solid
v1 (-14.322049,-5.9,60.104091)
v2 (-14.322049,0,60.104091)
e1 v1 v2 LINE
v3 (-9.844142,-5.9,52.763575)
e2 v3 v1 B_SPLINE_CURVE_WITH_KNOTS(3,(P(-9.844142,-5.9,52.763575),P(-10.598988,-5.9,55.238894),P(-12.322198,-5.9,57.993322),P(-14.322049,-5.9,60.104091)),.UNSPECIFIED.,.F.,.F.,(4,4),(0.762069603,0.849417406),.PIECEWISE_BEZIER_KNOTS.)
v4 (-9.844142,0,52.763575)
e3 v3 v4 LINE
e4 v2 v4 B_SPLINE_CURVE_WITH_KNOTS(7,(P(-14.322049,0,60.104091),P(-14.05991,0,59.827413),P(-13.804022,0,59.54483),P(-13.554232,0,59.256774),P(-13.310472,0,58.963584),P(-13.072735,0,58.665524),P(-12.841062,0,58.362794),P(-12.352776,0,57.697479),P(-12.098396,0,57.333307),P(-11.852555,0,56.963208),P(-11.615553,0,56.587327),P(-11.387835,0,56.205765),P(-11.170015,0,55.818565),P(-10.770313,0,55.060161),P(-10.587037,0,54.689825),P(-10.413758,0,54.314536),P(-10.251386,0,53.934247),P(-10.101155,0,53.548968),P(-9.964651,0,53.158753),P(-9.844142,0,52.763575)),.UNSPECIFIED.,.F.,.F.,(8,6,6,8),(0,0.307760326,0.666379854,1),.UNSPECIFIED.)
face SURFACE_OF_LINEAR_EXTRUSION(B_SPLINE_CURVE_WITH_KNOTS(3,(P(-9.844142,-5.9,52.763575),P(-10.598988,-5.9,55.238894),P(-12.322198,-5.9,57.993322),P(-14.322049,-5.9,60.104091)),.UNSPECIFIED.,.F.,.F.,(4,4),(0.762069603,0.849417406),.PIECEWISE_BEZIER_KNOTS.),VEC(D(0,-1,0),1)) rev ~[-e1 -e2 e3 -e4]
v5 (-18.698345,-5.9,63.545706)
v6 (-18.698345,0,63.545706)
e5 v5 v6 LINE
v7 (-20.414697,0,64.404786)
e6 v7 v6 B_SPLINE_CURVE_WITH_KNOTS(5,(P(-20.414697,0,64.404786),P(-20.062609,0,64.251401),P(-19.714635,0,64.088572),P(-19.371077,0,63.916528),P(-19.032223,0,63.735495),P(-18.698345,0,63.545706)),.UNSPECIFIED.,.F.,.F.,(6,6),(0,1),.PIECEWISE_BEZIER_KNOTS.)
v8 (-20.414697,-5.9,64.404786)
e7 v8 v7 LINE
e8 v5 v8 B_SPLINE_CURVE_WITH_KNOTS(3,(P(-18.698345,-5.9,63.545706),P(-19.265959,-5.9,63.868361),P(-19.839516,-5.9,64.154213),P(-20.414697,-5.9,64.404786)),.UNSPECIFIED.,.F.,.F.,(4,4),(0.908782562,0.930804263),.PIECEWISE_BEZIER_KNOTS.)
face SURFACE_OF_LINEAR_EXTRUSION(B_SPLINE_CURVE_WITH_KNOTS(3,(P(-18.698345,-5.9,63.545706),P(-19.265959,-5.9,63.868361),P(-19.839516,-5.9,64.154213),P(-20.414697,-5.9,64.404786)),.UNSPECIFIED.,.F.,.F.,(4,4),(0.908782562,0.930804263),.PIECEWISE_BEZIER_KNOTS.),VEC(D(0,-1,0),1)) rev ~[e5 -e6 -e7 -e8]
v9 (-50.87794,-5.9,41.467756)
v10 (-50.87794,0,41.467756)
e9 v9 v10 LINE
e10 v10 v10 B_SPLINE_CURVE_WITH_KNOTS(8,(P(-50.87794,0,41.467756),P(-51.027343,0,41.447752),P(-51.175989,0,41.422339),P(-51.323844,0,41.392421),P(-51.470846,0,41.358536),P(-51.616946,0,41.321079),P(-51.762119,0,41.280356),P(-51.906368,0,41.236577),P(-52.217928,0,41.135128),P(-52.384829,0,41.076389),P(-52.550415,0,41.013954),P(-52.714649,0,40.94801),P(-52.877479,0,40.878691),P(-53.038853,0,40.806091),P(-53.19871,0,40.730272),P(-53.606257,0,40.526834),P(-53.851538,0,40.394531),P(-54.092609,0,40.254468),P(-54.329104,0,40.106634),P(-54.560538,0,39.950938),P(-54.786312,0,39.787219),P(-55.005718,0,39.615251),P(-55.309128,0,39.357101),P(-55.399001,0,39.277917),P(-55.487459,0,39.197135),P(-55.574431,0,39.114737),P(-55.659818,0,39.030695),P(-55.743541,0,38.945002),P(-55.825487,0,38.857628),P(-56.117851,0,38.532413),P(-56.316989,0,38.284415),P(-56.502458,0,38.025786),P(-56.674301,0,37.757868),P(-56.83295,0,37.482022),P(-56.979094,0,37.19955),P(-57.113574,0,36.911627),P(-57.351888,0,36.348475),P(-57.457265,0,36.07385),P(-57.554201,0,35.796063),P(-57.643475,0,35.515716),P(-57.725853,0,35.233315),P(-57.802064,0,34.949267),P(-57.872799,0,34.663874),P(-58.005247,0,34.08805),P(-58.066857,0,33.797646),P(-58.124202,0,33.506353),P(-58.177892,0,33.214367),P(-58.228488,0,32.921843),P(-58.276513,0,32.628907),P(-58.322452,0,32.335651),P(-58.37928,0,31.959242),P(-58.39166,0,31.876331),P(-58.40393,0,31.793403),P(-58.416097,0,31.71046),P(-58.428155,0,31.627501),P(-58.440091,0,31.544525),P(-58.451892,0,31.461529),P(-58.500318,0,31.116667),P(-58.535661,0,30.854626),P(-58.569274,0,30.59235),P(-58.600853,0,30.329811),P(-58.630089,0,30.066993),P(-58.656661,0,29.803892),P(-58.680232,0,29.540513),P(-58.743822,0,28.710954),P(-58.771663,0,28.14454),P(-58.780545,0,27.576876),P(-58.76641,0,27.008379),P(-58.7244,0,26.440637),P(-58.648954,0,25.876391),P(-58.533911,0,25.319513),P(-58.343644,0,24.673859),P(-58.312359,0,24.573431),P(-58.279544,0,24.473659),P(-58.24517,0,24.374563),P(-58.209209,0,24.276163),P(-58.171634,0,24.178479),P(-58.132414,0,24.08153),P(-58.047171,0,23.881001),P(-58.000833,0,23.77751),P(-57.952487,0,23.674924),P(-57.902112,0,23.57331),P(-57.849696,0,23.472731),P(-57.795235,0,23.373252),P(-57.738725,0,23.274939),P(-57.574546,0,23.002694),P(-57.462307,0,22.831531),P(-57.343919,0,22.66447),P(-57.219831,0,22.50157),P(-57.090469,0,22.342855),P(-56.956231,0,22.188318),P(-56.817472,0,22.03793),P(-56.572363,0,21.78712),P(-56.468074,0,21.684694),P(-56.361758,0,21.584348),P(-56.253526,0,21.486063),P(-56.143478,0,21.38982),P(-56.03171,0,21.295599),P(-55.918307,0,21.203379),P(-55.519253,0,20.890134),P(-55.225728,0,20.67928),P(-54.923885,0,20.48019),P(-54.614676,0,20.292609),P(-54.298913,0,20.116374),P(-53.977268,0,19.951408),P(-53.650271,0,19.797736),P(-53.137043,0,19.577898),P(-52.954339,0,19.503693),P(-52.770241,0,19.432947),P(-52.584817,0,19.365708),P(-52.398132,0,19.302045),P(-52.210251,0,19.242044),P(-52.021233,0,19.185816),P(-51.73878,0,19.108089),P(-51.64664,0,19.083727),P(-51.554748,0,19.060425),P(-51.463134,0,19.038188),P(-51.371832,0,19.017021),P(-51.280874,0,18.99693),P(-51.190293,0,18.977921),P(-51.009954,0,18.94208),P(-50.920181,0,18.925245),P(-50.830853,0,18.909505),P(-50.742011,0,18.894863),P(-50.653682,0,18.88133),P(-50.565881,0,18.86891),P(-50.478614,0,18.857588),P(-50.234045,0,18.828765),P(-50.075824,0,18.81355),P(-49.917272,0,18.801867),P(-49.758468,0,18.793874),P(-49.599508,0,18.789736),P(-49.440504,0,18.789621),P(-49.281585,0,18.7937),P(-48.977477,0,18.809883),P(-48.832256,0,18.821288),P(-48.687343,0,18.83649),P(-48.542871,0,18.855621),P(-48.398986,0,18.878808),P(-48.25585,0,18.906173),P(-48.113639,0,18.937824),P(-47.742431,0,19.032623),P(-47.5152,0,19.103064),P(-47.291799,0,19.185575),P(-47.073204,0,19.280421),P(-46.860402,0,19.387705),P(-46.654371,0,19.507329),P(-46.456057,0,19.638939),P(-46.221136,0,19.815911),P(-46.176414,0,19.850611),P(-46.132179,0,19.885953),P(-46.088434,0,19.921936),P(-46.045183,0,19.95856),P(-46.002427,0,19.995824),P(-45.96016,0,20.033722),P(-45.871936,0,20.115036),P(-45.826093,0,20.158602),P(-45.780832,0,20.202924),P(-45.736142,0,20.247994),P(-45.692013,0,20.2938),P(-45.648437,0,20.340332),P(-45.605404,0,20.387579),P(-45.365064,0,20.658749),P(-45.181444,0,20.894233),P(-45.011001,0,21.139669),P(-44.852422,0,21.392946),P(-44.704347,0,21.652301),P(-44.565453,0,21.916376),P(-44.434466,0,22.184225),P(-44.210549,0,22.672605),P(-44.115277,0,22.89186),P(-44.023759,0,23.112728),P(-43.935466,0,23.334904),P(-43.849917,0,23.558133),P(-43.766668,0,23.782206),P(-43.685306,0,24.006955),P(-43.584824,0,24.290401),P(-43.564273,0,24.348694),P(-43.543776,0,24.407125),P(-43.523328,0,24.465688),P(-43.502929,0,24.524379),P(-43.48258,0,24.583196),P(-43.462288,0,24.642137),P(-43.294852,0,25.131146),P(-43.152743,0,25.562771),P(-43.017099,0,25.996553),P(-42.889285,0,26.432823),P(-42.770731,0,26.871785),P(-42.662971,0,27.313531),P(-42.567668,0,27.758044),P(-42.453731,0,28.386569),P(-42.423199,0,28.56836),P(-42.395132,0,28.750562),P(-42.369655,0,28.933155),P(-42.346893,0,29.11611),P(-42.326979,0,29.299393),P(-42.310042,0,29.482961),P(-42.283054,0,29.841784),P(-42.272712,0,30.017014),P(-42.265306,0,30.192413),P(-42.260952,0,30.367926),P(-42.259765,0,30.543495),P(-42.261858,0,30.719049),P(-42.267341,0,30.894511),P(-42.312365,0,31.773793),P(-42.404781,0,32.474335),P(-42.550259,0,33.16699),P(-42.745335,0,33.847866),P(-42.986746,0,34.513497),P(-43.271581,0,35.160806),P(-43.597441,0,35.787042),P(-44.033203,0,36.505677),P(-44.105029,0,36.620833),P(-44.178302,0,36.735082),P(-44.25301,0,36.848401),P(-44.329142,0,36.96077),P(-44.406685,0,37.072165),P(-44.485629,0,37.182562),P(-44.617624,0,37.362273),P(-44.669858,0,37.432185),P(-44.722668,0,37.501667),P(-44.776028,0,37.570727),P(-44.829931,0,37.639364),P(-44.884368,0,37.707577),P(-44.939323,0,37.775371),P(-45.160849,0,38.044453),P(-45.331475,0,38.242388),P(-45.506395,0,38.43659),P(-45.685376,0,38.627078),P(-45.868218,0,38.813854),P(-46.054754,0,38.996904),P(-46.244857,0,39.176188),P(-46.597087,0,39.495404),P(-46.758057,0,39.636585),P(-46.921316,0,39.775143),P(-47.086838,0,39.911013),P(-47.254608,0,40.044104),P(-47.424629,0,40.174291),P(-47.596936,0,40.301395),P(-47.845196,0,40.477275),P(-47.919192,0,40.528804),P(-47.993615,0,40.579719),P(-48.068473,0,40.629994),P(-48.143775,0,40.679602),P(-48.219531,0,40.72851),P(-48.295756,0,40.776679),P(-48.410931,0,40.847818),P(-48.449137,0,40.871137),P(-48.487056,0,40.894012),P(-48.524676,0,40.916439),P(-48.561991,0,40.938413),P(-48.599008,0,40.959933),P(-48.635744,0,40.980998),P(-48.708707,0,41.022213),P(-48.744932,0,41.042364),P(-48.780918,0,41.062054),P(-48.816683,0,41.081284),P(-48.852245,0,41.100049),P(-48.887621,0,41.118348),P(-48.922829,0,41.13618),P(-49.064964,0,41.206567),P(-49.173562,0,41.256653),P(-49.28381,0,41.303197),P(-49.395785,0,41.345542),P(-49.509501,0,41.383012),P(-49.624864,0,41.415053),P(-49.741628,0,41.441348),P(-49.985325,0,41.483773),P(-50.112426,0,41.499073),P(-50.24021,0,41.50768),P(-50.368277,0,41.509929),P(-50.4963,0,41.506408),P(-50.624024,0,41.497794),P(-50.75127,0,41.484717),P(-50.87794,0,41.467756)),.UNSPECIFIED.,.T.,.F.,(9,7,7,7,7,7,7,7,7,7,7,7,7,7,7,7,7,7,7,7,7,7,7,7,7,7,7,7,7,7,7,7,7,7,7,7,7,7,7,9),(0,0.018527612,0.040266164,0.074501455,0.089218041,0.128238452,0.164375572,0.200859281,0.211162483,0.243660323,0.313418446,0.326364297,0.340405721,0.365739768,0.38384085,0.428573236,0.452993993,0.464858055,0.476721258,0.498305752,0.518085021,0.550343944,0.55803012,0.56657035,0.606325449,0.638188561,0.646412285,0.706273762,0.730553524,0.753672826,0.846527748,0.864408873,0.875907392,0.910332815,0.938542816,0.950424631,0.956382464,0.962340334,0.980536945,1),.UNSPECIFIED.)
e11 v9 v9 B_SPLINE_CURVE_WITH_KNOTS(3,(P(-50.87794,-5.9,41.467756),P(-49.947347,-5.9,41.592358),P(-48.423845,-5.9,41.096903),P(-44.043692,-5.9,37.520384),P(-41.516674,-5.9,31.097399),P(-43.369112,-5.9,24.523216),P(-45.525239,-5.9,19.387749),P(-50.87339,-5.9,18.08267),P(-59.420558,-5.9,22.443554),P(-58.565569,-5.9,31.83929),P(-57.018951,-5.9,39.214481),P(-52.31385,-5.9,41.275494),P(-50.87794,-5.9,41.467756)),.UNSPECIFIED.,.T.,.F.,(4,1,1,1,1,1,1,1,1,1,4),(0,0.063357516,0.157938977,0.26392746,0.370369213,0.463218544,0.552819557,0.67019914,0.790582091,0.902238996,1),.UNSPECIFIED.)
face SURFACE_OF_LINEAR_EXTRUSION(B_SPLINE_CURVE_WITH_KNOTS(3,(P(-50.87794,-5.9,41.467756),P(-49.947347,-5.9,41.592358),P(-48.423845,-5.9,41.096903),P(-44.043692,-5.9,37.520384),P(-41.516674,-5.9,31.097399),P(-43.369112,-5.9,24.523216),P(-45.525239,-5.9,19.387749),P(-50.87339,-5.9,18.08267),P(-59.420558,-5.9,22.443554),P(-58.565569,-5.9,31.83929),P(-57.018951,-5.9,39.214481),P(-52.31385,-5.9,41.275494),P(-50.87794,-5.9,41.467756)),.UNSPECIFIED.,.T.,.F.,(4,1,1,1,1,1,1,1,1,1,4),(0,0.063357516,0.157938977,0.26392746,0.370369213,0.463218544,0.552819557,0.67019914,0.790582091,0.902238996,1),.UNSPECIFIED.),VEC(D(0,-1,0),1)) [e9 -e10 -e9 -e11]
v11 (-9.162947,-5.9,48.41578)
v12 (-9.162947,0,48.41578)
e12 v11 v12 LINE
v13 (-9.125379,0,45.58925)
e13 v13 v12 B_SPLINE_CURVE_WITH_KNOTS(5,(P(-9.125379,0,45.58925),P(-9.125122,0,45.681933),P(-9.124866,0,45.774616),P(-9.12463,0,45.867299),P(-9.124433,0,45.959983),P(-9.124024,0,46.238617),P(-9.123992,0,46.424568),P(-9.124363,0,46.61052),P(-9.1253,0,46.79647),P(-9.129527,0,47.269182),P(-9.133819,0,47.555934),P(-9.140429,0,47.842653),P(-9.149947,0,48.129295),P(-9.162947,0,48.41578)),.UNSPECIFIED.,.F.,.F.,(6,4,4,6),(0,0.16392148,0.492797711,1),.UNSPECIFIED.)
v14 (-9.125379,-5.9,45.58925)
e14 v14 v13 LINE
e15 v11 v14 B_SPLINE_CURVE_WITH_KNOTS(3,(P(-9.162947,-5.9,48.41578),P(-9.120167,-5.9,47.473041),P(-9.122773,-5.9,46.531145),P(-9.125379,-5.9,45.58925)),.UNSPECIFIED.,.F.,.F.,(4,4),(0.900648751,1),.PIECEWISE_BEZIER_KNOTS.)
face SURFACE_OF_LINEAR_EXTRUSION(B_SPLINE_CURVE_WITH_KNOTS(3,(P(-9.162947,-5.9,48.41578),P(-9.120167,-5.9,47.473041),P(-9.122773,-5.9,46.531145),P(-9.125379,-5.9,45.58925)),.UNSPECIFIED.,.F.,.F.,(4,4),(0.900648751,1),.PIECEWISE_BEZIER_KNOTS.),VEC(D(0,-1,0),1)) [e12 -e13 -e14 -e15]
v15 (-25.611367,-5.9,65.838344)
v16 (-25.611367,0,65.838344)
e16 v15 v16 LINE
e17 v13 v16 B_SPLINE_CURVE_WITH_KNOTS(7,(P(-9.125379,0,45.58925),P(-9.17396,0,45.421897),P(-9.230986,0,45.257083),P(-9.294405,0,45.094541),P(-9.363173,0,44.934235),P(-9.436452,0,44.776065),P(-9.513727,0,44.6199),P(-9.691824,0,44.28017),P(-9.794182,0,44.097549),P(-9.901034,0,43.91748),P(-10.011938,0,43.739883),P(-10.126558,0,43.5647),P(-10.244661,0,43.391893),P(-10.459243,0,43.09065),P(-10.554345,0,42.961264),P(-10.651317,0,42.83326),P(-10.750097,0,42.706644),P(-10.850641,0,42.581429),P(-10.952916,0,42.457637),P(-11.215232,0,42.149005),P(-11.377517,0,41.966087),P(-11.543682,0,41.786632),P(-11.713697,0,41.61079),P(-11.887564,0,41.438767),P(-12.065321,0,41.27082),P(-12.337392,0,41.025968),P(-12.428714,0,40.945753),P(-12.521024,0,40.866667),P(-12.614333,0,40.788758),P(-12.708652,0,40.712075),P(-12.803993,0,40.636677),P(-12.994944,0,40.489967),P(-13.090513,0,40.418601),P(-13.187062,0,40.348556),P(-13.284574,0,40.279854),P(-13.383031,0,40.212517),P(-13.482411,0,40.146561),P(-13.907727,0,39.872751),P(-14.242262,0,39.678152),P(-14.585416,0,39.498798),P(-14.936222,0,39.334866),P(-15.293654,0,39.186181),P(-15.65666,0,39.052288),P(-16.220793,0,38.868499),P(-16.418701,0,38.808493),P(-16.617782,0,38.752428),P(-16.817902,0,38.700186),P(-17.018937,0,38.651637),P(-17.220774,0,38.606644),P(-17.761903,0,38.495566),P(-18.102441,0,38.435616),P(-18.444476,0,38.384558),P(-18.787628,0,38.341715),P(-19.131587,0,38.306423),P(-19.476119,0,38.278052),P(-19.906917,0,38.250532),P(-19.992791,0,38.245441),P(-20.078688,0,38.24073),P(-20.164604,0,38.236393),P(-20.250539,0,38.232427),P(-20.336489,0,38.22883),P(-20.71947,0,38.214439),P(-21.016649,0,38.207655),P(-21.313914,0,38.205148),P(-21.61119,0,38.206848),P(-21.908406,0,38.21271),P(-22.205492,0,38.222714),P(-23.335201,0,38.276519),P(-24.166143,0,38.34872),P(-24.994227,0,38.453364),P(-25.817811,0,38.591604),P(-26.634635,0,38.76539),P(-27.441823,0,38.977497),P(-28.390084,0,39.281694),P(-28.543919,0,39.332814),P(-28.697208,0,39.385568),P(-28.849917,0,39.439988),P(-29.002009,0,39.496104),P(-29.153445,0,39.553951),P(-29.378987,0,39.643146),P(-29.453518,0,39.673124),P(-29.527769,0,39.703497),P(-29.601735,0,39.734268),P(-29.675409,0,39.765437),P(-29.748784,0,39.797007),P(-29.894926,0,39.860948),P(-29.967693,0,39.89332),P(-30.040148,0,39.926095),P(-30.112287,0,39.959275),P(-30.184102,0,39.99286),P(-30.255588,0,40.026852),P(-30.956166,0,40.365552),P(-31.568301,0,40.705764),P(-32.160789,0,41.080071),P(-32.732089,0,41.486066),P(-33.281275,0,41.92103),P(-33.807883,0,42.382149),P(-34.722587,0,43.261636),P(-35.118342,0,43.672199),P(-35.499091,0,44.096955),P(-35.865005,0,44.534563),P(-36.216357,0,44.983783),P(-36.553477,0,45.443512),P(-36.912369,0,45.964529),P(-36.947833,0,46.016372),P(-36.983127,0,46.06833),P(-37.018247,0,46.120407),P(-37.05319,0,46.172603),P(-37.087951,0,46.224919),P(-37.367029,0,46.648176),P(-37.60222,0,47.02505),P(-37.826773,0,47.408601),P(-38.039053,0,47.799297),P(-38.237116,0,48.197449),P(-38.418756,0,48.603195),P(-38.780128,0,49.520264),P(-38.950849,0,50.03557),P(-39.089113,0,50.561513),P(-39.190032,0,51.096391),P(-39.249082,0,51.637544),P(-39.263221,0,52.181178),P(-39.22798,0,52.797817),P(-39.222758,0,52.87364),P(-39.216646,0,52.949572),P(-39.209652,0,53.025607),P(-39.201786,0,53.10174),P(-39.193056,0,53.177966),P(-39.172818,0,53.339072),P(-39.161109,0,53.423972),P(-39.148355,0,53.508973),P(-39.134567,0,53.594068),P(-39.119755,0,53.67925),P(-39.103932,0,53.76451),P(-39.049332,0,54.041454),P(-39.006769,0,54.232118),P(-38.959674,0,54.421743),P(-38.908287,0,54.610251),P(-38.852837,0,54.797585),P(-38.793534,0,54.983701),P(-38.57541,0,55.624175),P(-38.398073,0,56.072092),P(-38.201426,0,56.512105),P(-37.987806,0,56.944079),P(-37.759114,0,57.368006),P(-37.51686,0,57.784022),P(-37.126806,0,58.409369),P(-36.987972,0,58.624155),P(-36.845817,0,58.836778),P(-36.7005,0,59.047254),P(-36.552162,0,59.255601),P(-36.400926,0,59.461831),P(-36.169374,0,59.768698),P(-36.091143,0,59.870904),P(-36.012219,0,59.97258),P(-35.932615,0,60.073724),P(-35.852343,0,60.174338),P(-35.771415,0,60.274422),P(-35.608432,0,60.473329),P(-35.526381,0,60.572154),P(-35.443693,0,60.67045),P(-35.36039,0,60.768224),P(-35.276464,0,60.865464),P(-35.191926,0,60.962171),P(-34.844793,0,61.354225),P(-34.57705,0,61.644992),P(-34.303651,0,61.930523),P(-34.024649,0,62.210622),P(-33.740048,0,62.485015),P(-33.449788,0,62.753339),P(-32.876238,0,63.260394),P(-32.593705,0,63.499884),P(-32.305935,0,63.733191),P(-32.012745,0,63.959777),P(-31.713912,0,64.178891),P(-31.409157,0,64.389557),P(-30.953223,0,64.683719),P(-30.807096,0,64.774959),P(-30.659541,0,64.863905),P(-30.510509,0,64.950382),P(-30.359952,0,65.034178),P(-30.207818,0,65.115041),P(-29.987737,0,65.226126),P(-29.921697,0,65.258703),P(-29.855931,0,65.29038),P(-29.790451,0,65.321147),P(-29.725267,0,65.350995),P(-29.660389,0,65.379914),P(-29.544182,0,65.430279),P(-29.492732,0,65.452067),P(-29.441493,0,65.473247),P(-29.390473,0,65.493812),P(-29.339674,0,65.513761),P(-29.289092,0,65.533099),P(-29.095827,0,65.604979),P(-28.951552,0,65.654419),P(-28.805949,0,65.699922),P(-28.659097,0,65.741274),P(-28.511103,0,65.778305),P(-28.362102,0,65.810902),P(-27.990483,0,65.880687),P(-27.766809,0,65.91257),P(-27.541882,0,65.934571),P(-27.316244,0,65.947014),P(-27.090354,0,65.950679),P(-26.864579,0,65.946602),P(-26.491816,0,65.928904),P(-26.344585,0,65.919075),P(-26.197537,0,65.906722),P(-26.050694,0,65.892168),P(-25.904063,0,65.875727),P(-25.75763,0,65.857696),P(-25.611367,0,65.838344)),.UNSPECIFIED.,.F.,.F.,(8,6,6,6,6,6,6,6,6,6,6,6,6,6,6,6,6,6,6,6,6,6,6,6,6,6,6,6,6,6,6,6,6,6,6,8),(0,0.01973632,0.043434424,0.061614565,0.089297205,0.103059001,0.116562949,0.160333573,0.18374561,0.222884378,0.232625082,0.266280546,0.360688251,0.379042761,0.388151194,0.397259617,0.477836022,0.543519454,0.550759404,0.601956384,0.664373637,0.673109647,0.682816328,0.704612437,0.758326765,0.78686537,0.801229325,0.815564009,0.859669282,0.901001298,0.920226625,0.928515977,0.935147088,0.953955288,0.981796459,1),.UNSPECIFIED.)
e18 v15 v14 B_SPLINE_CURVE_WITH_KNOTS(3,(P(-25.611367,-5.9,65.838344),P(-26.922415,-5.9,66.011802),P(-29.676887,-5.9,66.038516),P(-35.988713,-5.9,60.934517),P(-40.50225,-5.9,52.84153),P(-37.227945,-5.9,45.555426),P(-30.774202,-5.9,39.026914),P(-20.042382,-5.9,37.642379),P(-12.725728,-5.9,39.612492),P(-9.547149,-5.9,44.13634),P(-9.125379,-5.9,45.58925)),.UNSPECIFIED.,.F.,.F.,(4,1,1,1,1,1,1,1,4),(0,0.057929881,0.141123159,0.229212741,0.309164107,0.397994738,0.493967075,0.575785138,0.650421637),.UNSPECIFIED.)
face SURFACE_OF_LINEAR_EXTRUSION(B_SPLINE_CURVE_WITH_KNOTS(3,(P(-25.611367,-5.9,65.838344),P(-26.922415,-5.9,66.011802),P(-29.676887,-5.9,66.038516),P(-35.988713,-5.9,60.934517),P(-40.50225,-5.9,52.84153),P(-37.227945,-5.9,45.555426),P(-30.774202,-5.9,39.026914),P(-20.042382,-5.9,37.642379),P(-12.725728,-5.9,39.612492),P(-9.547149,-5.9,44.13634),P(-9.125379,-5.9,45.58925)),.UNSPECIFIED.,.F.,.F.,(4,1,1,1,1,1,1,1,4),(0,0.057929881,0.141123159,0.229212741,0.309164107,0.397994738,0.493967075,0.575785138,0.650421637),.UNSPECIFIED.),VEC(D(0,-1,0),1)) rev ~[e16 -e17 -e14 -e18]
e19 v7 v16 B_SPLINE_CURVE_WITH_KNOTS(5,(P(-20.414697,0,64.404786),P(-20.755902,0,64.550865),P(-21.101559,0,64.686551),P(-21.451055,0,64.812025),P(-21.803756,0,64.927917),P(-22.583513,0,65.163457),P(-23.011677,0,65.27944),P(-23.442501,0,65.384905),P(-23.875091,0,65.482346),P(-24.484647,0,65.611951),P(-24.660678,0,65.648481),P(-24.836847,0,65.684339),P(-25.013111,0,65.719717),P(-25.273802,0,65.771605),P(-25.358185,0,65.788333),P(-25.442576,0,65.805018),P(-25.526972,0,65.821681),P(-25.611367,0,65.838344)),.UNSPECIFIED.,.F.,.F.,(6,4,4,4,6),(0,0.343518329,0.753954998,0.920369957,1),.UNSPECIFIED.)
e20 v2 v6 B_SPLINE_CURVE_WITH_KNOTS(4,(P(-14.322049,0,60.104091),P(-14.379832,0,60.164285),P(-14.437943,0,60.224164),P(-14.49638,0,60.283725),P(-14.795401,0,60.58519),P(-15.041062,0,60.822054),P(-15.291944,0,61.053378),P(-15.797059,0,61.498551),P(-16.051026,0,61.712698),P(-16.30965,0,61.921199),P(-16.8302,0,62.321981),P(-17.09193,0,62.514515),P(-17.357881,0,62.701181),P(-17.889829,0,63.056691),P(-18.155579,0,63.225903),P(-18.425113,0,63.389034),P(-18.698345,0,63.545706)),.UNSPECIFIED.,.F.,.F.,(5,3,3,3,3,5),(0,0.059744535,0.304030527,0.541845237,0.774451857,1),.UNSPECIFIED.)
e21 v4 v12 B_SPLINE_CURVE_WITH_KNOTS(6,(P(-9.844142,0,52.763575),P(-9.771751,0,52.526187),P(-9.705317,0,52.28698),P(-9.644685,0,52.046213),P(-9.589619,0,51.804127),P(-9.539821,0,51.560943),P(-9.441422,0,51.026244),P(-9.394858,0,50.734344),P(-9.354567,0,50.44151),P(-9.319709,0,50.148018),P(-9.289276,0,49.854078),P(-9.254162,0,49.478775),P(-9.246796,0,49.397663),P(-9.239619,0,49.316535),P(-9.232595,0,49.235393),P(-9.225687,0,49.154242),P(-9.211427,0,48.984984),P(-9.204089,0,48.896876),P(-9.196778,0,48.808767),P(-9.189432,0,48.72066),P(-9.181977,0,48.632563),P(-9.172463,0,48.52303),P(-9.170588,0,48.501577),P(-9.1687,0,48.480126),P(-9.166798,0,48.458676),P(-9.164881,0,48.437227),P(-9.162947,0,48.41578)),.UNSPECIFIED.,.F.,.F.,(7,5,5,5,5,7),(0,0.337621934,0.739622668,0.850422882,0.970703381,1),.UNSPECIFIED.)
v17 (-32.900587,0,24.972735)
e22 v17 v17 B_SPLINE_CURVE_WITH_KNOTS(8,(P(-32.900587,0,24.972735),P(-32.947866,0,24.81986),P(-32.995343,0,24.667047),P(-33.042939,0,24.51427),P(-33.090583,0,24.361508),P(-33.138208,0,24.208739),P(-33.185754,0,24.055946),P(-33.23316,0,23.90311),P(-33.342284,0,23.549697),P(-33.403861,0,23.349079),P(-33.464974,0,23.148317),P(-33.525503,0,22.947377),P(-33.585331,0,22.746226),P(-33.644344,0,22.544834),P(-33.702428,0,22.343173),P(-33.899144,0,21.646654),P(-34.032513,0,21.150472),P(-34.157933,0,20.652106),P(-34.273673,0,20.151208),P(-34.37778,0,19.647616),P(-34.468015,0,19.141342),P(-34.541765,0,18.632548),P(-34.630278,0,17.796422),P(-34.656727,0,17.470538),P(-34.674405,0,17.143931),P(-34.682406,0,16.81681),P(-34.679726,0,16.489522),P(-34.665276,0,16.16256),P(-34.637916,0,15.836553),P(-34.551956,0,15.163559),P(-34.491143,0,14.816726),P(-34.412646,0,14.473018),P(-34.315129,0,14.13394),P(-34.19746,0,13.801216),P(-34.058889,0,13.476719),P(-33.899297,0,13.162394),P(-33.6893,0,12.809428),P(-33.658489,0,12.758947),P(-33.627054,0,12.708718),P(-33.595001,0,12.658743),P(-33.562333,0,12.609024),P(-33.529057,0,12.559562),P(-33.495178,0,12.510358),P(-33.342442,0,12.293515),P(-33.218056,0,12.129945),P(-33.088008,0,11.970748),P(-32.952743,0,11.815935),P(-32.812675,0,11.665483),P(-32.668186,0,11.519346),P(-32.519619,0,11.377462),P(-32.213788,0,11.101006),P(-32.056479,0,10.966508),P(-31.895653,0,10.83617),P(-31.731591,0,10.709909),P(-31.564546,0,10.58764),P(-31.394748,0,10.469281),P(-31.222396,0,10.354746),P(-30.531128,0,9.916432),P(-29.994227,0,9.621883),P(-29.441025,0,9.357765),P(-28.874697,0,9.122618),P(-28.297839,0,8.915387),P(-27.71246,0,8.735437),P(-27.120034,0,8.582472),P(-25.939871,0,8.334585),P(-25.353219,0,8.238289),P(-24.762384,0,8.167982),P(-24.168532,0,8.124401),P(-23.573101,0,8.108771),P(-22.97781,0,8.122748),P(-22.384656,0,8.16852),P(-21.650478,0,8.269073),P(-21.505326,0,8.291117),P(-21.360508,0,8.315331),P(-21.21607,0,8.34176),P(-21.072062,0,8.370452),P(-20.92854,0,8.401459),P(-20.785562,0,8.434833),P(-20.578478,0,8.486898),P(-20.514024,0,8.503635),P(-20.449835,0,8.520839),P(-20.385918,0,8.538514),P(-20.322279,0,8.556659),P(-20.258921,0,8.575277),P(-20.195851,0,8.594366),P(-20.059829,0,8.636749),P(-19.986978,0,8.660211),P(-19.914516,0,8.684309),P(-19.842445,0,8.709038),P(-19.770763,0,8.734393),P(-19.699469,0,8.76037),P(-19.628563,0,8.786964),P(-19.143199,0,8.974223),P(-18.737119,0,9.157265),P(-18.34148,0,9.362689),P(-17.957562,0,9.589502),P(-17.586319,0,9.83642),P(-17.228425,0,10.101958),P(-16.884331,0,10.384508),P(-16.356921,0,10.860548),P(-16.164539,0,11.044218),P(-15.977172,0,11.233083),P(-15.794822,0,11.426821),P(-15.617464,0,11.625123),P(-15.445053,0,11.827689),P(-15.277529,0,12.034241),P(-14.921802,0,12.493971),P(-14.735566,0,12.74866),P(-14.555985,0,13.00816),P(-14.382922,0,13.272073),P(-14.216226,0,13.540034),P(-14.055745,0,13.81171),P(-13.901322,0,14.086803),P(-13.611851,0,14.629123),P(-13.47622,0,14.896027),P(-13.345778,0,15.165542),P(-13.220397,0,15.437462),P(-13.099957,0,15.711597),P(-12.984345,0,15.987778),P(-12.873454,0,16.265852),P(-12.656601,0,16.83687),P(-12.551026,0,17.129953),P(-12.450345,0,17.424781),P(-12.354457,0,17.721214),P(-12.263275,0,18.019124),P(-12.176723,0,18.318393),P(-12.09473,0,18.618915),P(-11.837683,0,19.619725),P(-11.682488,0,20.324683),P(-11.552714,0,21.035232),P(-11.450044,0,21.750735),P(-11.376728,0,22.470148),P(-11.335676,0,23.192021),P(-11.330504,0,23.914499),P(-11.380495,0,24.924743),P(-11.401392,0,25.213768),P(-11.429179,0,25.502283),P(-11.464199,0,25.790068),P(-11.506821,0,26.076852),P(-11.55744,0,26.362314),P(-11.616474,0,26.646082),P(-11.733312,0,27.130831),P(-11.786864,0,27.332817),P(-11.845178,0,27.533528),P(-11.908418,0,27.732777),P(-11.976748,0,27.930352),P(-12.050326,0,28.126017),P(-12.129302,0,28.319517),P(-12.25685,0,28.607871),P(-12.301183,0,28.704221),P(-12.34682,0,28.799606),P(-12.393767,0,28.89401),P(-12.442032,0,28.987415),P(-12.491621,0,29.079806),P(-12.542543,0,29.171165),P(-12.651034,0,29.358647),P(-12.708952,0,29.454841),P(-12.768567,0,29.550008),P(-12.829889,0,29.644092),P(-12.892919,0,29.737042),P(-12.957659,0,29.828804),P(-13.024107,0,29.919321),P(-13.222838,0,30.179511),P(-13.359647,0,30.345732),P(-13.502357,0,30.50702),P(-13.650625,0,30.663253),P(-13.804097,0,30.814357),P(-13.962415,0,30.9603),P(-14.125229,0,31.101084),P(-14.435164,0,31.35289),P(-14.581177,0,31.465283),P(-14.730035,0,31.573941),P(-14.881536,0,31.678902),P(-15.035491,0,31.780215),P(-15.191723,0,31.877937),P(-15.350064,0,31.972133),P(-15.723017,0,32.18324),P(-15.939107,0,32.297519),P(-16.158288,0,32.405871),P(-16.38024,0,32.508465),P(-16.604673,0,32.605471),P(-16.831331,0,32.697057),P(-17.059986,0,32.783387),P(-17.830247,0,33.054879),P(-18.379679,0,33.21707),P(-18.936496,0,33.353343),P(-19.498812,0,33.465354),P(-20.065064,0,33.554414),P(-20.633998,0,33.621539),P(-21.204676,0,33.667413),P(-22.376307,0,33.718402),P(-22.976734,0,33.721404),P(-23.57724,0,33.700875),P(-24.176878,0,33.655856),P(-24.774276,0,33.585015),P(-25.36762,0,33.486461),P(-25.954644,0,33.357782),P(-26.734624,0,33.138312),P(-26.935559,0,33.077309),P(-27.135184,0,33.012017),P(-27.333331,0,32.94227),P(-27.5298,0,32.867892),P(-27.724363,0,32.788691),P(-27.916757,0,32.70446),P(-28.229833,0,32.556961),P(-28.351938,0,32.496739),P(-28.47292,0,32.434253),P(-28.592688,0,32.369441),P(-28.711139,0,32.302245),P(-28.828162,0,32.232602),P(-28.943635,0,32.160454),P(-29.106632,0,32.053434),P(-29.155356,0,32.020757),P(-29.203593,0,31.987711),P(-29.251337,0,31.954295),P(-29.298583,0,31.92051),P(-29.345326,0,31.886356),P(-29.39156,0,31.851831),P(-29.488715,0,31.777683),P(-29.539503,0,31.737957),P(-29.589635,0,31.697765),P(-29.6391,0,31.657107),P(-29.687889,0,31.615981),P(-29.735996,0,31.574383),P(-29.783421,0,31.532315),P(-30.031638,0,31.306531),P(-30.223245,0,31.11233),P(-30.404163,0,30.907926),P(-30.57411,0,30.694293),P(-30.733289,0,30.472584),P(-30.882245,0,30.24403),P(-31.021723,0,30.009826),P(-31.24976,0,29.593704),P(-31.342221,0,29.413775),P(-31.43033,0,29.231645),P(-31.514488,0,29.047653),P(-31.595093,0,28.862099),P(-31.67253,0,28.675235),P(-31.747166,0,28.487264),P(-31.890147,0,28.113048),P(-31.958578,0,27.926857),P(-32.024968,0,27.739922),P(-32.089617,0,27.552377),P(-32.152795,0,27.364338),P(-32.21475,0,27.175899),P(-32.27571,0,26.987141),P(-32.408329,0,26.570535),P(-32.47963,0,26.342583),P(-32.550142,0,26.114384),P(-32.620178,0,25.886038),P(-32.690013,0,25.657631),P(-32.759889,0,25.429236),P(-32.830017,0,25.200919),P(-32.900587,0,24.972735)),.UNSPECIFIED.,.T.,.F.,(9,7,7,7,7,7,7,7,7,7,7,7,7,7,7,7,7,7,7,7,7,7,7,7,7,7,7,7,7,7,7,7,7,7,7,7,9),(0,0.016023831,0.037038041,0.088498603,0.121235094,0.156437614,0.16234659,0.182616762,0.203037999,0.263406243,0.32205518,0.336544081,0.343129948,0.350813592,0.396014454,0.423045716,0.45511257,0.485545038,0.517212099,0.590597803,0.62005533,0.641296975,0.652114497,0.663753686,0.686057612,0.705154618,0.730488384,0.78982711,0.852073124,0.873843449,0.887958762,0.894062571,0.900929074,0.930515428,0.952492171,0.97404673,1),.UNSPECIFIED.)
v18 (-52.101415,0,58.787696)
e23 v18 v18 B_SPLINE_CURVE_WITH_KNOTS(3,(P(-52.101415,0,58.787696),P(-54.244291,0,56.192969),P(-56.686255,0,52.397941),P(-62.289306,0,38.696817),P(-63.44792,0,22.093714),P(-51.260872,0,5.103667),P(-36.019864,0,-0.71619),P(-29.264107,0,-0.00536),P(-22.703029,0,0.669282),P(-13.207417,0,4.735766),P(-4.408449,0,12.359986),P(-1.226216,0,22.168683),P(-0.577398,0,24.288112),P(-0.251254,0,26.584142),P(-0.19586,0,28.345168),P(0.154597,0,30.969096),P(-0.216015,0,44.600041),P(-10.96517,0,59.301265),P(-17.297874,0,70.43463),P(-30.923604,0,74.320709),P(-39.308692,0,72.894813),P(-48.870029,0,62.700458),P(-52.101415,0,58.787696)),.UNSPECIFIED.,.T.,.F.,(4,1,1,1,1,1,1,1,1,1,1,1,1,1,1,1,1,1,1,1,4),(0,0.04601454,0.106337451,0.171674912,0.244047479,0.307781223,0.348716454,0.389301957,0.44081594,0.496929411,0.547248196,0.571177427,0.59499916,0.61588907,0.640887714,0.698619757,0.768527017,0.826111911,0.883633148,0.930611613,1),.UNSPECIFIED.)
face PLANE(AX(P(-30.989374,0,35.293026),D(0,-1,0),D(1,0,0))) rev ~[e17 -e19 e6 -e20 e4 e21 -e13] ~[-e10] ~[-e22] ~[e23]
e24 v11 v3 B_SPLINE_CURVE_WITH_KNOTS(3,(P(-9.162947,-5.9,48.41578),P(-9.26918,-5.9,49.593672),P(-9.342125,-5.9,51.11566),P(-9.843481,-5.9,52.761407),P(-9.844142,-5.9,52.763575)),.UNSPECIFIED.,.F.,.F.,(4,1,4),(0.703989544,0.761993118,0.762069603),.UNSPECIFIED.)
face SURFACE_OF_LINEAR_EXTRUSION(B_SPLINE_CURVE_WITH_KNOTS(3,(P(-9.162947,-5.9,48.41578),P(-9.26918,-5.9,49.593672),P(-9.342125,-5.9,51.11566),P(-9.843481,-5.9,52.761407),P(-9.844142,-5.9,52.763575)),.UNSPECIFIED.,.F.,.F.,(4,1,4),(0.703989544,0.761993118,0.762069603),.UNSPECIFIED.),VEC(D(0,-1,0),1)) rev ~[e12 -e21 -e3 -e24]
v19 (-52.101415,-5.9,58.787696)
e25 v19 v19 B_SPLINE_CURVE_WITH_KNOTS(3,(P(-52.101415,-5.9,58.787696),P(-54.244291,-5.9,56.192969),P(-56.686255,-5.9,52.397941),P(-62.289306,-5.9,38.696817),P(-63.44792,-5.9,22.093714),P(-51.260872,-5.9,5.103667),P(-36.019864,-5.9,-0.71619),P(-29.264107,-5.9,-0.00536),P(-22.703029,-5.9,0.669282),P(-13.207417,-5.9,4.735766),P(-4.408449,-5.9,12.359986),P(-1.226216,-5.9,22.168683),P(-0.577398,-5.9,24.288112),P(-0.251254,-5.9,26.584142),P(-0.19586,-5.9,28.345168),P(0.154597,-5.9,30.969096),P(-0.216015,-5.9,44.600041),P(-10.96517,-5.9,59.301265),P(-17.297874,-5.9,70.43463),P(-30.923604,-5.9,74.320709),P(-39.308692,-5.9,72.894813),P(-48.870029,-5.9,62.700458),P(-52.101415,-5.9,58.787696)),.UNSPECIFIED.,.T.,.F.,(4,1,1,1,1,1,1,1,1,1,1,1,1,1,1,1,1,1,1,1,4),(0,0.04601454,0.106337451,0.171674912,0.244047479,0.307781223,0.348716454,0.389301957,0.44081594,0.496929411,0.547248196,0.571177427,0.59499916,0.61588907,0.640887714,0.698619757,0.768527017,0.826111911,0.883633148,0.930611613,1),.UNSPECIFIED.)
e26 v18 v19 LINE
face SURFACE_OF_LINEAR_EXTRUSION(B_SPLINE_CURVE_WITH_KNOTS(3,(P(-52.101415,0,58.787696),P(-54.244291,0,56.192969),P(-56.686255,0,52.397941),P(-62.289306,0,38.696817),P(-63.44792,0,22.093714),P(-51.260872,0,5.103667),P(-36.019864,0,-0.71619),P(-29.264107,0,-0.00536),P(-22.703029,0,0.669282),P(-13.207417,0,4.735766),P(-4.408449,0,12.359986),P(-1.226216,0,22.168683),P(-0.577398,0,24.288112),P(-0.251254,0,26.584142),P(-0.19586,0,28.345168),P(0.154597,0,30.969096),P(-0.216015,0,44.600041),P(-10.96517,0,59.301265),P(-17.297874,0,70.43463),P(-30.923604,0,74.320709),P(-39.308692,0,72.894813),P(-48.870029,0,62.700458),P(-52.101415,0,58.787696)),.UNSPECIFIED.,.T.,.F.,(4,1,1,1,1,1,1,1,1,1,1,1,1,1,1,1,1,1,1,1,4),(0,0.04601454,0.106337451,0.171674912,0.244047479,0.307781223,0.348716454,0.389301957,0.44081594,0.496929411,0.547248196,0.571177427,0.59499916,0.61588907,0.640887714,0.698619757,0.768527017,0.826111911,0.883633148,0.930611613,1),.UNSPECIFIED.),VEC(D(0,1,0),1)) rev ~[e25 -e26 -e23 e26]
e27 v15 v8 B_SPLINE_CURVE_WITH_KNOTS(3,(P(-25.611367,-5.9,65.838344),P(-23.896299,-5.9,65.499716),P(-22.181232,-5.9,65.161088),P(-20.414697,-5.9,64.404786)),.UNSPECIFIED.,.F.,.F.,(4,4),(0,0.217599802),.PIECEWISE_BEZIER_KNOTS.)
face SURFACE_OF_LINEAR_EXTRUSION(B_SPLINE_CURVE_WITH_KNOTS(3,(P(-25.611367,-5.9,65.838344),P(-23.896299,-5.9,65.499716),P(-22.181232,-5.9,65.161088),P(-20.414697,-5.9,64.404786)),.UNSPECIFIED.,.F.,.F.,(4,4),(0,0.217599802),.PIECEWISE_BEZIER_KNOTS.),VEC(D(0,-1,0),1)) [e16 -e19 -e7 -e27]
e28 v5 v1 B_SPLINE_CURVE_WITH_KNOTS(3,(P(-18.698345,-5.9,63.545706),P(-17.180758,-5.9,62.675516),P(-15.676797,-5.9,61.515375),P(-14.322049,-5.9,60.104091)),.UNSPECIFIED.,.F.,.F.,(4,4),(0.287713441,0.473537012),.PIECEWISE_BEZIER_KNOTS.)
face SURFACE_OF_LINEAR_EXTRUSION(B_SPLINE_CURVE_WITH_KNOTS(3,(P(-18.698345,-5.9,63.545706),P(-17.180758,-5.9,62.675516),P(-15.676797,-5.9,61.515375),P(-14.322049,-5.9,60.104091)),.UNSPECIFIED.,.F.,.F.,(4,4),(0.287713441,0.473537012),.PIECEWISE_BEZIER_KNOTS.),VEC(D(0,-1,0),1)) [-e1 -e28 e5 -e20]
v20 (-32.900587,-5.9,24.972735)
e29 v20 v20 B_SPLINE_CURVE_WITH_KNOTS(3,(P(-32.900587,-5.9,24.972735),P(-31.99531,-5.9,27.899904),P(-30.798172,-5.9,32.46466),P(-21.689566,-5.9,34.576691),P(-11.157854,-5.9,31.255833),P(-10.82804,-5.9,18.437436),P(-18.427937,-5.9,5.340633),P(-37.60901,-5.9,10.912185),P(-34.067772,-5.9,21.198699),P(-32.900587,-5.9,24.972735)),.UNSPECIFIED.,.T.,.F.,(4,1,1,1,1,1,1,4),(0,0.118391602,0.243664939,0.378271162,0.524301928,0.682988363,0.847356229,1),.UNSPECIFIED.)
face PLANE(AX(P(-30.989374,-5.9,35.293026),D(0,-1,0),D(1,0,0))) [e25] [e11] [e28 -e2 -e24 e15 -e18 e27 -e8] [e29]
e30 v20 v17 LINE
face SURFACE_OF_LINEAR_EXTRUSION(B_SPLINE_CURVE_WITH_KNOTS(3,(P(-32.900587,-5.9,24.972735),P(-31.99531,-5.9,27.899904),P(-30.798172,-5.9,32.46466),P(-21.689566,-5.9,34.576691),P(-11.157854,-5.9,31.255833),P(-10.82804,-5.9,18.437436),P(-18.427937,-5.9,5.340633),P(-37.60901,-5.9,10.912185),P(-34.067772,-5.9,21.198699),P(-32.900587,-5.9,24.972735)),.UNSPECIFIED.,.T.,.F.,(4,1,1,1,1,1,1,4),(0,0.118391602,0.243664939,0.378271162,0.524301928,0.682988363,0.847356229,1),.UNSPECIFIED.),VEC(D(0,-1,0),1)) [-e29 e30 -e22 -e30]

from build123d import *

# Parameters (mm, degrees)
F1_DEPTH = 5.9
F3_DEPTH = 25
F5_DEPTH = 25
F7_DEPTH = 25


with BuildPart() as f1:
    # F0 (on Front) → F1 (new body)
    with BuildSketch(Plane.XZ):
        with BuildLine():
            add(Edge.make_bspline(
                [(-52.1014146507, 58.7876960635), (-54.2442908005, 56.1929689953), (-56.6862554596, 52.3979406272), (-62.2893055473, 38.6968171199), (-63.447920292, 22.0937139273), (-51.2608724238, 5.1036667476), (-36.0198643591, -0.7161903744), (-29.2641067986, -0.0053596476), (-22.70302903, 0.669282382), (-13.2074172071, 4.7357655846), (-4.408449157, 12.359986036), (-1.2262155166, 22.1686827448), (-0.5773984772, 24.2881119646), (-0.2512541332, 26.5841420302), (-0.1958595852, 28.3451681559), (0.1545968332, 30.9690962846), (-0.2160147101, 44.6000414993), (-10.9651699558, 59.301264633), (-17.2978744539, 70.4346300063), (-30.9236037174, 74.3207093361), (-39.3086922898, 72.894812691), (-48.8700291359, 62.7004576406), (-52.1014146507, 58.7876960635)],
                knots=[0, 0, 0, 0, 0.0460145405, 0.106337451, 0.171674912, 0.2440474788, 0.3077812225, 0.3487164541, 0.3893019572, 0.4408159402, 0.4969294108, 0.5472481961, 0.5711774271, 0.5949991596, 0.6158890698, 0.6408877142, 0.698619757, 0.7685270172, 0.8261119106, 0.8836331476, 0.930611613, 1, 1, 1, 1], degree=3))
        make_face()
    extrude(amount=F1_DEPTH)

    # F2 (on face) → F3 (cut)
    with BuildSketch(Plane.XZ.offset(5.9)):
        with BuildLine():
            add(Edge.make_bspline(
                [(-25.6113670766, 65.8383443952), (-23.8962992967, 65.499716372), (-22.1812315167, 65.1610883488), (-20.4146970063, 64.4047856331)],
                knots=[0, 0, 0, 0, 0.2175998022, 0.2175998022, 0.2175998022, 0.2175998022], degree=3))
            add(Edge.make_bspline(
                [(-25.6113670766, 65.8383443952), (-26.9224153467, 66.0118016365), (-29.6768867649, 66.0385156694), (-35.9887130292, 60.934516911), (-40.5022501865, 52.8415296036), (-37.2279445486, 45.5554263024), (-30.7742024254, 39.026913525), (-20.0423820615, 37.642378954), (-12.7257275827, 39.6124917323), (-9.5471492047, 44.1363396608), (-9.1253789142, 45.5892495811)],
                knots=[0, 0, 0, 0, 0.0579298808, 0.1411231585, 0.2292127407, 0.3091641069, 0.3979947379, 0.4939670747, 0.5757851375, 0.6504216373, 0.6504216373, 0.6504216373, 0.6504216373], degree=3))
            add(Edge.make_bspline(
                [(-9.162946625, 48.4157798694), (-9.1201670876, 47.4730411283), (-9.1227730009, 46.5311453547), (-9.1253789142, 45.5892495811)],
                knots=[0.9006487511, 0.9006487511, 0.9006487511, 0.9006487511, 1, 1, 1, 1], degree=3))
            add(Edge.make_bspline(
                [(-9.162946625, 48.4157798694), (-9.2691801205, 49.5936717728), (-9.3421253992, 51.1156596141), (-9.8434807995, 52.7614074954), (-9.8441417686, 52.7635749675)],
                knots=[0.7039895436, 0.7039895436, 0.7039895436, 0.7039895436, 0.7619931182, 0.7620696029, 0.7620696029, 0.7620696029, 0.7620696029], degree=3))
            add(Edge.make_bspline(
                [(-9.8441417686, 52.7635749675), (-10.598988464, 55.2388936708), (-12.322197814, 57.9933220152), (-14.3220489537, 60.104090688)],
                knots=[0.7620696029, 0.7620696029, 0.7620696029, 0.7620696029, 0.8494174062, 0.8494174062, 0.8494174062, 0.8494174062], degree=3))
            add(Edge.make_bspline(
                [(-18.6983452168, 63.5457059426), (-17.1807583986, 62.6755163534), (-15.6767974013, 61.5153749257), (-14.3220489845, 60.1040907204)],
                knots=[0.2877134414, 0.2877134414, 0.2877134414, 0.2877134414, 0.4735370117, 0.4735370117, 0.4735370117, 0.4735370117], degree=3))
            add(Edge.make_bspline(
                [(-18.6983452168, 63.5457059426), (-19.2659594379, 63.8683608033), (-19.8395161558, 64.1542125797), (-20.414696972, 64.4047856181)],
                knots=[0.908782562, 0.908782562, 0.908782562, 0.908782562, 0.9308042628, 0.9308042628, 0.9308042628, 0.9308042628], degree=3))
        make_face()
    extrude(amount=-F3_DEPTH, mode=Mode.SUBTRACT)

    # F4 (on face) → F5 (cut)
    with BuildSketch(Plane.XZ.offset(5.9)):
        with BuildLine():
            add(Edge.make_bspline(
                [(-50.8779399097, 41.4677560329), (-49.9473469848, 41.5923582464), (-48.4238446078, 41.0969027396), (-44.0436915129, 37.5203836221), (-41.5166740922, 31.097399344), (-43.3691124707, 24.5232161189), (-45.5252390656, 19.3877487895), (-50.8733899624, 18.0826696883), (-59.4205583057, 22.4435539606), (-58.5655686628, 31.8392897342), (-57.0189507493, 39.2144813863), (-52.3138500245, 41.2754941171), (-50.8779399097, 41.4677560329)],
                knots=[0, 0, 0, 0, 0.0633575162, 0.1579389774, 0.2639274596, 0.3703692134, 0.4632185436, 0.5528195565, 0.6701991399, 0.790582091, 0.9022389963, 1, 1, 1, 1], degree=3))
        make_face()
    extrude(amount=-F5_DEPTH, mode=Mode.SUBTRACT)

    # F6 (on face) → F7 (cut)
    with BuildSketch(Plane.XZ.offset(5.9)):
        with BuildLine():
            add(Edge.make_bspline(
                [(-32.9005867243, 24.9727349728), (-31.99530968, 27.8999040123), (-30.7981719764, 32.4646600732), (-21.6895658941, 34.5766905788), (-11.1578539022, 31.2558330837), (-10.8280397755, 18.4374362289), (-18.4279373234, 5.3406327311), (-37.6090101355, 10.9121854411), (-34.0677717229, 21.1986993745), (-32.9005867243, 24.9727349728)],
                knots=[0, 0, 0, 0, 0.1183916019, 0.2436649387, 0.3782711625, 0.5243019283, 0.6829883627, 0.8473562291, 1, 1, 1, 1], degree=3))
        make_face()
    extrude(amount=-F7_DEPTH, mode=Mode.SUBTRACT)


solid = f1.part
